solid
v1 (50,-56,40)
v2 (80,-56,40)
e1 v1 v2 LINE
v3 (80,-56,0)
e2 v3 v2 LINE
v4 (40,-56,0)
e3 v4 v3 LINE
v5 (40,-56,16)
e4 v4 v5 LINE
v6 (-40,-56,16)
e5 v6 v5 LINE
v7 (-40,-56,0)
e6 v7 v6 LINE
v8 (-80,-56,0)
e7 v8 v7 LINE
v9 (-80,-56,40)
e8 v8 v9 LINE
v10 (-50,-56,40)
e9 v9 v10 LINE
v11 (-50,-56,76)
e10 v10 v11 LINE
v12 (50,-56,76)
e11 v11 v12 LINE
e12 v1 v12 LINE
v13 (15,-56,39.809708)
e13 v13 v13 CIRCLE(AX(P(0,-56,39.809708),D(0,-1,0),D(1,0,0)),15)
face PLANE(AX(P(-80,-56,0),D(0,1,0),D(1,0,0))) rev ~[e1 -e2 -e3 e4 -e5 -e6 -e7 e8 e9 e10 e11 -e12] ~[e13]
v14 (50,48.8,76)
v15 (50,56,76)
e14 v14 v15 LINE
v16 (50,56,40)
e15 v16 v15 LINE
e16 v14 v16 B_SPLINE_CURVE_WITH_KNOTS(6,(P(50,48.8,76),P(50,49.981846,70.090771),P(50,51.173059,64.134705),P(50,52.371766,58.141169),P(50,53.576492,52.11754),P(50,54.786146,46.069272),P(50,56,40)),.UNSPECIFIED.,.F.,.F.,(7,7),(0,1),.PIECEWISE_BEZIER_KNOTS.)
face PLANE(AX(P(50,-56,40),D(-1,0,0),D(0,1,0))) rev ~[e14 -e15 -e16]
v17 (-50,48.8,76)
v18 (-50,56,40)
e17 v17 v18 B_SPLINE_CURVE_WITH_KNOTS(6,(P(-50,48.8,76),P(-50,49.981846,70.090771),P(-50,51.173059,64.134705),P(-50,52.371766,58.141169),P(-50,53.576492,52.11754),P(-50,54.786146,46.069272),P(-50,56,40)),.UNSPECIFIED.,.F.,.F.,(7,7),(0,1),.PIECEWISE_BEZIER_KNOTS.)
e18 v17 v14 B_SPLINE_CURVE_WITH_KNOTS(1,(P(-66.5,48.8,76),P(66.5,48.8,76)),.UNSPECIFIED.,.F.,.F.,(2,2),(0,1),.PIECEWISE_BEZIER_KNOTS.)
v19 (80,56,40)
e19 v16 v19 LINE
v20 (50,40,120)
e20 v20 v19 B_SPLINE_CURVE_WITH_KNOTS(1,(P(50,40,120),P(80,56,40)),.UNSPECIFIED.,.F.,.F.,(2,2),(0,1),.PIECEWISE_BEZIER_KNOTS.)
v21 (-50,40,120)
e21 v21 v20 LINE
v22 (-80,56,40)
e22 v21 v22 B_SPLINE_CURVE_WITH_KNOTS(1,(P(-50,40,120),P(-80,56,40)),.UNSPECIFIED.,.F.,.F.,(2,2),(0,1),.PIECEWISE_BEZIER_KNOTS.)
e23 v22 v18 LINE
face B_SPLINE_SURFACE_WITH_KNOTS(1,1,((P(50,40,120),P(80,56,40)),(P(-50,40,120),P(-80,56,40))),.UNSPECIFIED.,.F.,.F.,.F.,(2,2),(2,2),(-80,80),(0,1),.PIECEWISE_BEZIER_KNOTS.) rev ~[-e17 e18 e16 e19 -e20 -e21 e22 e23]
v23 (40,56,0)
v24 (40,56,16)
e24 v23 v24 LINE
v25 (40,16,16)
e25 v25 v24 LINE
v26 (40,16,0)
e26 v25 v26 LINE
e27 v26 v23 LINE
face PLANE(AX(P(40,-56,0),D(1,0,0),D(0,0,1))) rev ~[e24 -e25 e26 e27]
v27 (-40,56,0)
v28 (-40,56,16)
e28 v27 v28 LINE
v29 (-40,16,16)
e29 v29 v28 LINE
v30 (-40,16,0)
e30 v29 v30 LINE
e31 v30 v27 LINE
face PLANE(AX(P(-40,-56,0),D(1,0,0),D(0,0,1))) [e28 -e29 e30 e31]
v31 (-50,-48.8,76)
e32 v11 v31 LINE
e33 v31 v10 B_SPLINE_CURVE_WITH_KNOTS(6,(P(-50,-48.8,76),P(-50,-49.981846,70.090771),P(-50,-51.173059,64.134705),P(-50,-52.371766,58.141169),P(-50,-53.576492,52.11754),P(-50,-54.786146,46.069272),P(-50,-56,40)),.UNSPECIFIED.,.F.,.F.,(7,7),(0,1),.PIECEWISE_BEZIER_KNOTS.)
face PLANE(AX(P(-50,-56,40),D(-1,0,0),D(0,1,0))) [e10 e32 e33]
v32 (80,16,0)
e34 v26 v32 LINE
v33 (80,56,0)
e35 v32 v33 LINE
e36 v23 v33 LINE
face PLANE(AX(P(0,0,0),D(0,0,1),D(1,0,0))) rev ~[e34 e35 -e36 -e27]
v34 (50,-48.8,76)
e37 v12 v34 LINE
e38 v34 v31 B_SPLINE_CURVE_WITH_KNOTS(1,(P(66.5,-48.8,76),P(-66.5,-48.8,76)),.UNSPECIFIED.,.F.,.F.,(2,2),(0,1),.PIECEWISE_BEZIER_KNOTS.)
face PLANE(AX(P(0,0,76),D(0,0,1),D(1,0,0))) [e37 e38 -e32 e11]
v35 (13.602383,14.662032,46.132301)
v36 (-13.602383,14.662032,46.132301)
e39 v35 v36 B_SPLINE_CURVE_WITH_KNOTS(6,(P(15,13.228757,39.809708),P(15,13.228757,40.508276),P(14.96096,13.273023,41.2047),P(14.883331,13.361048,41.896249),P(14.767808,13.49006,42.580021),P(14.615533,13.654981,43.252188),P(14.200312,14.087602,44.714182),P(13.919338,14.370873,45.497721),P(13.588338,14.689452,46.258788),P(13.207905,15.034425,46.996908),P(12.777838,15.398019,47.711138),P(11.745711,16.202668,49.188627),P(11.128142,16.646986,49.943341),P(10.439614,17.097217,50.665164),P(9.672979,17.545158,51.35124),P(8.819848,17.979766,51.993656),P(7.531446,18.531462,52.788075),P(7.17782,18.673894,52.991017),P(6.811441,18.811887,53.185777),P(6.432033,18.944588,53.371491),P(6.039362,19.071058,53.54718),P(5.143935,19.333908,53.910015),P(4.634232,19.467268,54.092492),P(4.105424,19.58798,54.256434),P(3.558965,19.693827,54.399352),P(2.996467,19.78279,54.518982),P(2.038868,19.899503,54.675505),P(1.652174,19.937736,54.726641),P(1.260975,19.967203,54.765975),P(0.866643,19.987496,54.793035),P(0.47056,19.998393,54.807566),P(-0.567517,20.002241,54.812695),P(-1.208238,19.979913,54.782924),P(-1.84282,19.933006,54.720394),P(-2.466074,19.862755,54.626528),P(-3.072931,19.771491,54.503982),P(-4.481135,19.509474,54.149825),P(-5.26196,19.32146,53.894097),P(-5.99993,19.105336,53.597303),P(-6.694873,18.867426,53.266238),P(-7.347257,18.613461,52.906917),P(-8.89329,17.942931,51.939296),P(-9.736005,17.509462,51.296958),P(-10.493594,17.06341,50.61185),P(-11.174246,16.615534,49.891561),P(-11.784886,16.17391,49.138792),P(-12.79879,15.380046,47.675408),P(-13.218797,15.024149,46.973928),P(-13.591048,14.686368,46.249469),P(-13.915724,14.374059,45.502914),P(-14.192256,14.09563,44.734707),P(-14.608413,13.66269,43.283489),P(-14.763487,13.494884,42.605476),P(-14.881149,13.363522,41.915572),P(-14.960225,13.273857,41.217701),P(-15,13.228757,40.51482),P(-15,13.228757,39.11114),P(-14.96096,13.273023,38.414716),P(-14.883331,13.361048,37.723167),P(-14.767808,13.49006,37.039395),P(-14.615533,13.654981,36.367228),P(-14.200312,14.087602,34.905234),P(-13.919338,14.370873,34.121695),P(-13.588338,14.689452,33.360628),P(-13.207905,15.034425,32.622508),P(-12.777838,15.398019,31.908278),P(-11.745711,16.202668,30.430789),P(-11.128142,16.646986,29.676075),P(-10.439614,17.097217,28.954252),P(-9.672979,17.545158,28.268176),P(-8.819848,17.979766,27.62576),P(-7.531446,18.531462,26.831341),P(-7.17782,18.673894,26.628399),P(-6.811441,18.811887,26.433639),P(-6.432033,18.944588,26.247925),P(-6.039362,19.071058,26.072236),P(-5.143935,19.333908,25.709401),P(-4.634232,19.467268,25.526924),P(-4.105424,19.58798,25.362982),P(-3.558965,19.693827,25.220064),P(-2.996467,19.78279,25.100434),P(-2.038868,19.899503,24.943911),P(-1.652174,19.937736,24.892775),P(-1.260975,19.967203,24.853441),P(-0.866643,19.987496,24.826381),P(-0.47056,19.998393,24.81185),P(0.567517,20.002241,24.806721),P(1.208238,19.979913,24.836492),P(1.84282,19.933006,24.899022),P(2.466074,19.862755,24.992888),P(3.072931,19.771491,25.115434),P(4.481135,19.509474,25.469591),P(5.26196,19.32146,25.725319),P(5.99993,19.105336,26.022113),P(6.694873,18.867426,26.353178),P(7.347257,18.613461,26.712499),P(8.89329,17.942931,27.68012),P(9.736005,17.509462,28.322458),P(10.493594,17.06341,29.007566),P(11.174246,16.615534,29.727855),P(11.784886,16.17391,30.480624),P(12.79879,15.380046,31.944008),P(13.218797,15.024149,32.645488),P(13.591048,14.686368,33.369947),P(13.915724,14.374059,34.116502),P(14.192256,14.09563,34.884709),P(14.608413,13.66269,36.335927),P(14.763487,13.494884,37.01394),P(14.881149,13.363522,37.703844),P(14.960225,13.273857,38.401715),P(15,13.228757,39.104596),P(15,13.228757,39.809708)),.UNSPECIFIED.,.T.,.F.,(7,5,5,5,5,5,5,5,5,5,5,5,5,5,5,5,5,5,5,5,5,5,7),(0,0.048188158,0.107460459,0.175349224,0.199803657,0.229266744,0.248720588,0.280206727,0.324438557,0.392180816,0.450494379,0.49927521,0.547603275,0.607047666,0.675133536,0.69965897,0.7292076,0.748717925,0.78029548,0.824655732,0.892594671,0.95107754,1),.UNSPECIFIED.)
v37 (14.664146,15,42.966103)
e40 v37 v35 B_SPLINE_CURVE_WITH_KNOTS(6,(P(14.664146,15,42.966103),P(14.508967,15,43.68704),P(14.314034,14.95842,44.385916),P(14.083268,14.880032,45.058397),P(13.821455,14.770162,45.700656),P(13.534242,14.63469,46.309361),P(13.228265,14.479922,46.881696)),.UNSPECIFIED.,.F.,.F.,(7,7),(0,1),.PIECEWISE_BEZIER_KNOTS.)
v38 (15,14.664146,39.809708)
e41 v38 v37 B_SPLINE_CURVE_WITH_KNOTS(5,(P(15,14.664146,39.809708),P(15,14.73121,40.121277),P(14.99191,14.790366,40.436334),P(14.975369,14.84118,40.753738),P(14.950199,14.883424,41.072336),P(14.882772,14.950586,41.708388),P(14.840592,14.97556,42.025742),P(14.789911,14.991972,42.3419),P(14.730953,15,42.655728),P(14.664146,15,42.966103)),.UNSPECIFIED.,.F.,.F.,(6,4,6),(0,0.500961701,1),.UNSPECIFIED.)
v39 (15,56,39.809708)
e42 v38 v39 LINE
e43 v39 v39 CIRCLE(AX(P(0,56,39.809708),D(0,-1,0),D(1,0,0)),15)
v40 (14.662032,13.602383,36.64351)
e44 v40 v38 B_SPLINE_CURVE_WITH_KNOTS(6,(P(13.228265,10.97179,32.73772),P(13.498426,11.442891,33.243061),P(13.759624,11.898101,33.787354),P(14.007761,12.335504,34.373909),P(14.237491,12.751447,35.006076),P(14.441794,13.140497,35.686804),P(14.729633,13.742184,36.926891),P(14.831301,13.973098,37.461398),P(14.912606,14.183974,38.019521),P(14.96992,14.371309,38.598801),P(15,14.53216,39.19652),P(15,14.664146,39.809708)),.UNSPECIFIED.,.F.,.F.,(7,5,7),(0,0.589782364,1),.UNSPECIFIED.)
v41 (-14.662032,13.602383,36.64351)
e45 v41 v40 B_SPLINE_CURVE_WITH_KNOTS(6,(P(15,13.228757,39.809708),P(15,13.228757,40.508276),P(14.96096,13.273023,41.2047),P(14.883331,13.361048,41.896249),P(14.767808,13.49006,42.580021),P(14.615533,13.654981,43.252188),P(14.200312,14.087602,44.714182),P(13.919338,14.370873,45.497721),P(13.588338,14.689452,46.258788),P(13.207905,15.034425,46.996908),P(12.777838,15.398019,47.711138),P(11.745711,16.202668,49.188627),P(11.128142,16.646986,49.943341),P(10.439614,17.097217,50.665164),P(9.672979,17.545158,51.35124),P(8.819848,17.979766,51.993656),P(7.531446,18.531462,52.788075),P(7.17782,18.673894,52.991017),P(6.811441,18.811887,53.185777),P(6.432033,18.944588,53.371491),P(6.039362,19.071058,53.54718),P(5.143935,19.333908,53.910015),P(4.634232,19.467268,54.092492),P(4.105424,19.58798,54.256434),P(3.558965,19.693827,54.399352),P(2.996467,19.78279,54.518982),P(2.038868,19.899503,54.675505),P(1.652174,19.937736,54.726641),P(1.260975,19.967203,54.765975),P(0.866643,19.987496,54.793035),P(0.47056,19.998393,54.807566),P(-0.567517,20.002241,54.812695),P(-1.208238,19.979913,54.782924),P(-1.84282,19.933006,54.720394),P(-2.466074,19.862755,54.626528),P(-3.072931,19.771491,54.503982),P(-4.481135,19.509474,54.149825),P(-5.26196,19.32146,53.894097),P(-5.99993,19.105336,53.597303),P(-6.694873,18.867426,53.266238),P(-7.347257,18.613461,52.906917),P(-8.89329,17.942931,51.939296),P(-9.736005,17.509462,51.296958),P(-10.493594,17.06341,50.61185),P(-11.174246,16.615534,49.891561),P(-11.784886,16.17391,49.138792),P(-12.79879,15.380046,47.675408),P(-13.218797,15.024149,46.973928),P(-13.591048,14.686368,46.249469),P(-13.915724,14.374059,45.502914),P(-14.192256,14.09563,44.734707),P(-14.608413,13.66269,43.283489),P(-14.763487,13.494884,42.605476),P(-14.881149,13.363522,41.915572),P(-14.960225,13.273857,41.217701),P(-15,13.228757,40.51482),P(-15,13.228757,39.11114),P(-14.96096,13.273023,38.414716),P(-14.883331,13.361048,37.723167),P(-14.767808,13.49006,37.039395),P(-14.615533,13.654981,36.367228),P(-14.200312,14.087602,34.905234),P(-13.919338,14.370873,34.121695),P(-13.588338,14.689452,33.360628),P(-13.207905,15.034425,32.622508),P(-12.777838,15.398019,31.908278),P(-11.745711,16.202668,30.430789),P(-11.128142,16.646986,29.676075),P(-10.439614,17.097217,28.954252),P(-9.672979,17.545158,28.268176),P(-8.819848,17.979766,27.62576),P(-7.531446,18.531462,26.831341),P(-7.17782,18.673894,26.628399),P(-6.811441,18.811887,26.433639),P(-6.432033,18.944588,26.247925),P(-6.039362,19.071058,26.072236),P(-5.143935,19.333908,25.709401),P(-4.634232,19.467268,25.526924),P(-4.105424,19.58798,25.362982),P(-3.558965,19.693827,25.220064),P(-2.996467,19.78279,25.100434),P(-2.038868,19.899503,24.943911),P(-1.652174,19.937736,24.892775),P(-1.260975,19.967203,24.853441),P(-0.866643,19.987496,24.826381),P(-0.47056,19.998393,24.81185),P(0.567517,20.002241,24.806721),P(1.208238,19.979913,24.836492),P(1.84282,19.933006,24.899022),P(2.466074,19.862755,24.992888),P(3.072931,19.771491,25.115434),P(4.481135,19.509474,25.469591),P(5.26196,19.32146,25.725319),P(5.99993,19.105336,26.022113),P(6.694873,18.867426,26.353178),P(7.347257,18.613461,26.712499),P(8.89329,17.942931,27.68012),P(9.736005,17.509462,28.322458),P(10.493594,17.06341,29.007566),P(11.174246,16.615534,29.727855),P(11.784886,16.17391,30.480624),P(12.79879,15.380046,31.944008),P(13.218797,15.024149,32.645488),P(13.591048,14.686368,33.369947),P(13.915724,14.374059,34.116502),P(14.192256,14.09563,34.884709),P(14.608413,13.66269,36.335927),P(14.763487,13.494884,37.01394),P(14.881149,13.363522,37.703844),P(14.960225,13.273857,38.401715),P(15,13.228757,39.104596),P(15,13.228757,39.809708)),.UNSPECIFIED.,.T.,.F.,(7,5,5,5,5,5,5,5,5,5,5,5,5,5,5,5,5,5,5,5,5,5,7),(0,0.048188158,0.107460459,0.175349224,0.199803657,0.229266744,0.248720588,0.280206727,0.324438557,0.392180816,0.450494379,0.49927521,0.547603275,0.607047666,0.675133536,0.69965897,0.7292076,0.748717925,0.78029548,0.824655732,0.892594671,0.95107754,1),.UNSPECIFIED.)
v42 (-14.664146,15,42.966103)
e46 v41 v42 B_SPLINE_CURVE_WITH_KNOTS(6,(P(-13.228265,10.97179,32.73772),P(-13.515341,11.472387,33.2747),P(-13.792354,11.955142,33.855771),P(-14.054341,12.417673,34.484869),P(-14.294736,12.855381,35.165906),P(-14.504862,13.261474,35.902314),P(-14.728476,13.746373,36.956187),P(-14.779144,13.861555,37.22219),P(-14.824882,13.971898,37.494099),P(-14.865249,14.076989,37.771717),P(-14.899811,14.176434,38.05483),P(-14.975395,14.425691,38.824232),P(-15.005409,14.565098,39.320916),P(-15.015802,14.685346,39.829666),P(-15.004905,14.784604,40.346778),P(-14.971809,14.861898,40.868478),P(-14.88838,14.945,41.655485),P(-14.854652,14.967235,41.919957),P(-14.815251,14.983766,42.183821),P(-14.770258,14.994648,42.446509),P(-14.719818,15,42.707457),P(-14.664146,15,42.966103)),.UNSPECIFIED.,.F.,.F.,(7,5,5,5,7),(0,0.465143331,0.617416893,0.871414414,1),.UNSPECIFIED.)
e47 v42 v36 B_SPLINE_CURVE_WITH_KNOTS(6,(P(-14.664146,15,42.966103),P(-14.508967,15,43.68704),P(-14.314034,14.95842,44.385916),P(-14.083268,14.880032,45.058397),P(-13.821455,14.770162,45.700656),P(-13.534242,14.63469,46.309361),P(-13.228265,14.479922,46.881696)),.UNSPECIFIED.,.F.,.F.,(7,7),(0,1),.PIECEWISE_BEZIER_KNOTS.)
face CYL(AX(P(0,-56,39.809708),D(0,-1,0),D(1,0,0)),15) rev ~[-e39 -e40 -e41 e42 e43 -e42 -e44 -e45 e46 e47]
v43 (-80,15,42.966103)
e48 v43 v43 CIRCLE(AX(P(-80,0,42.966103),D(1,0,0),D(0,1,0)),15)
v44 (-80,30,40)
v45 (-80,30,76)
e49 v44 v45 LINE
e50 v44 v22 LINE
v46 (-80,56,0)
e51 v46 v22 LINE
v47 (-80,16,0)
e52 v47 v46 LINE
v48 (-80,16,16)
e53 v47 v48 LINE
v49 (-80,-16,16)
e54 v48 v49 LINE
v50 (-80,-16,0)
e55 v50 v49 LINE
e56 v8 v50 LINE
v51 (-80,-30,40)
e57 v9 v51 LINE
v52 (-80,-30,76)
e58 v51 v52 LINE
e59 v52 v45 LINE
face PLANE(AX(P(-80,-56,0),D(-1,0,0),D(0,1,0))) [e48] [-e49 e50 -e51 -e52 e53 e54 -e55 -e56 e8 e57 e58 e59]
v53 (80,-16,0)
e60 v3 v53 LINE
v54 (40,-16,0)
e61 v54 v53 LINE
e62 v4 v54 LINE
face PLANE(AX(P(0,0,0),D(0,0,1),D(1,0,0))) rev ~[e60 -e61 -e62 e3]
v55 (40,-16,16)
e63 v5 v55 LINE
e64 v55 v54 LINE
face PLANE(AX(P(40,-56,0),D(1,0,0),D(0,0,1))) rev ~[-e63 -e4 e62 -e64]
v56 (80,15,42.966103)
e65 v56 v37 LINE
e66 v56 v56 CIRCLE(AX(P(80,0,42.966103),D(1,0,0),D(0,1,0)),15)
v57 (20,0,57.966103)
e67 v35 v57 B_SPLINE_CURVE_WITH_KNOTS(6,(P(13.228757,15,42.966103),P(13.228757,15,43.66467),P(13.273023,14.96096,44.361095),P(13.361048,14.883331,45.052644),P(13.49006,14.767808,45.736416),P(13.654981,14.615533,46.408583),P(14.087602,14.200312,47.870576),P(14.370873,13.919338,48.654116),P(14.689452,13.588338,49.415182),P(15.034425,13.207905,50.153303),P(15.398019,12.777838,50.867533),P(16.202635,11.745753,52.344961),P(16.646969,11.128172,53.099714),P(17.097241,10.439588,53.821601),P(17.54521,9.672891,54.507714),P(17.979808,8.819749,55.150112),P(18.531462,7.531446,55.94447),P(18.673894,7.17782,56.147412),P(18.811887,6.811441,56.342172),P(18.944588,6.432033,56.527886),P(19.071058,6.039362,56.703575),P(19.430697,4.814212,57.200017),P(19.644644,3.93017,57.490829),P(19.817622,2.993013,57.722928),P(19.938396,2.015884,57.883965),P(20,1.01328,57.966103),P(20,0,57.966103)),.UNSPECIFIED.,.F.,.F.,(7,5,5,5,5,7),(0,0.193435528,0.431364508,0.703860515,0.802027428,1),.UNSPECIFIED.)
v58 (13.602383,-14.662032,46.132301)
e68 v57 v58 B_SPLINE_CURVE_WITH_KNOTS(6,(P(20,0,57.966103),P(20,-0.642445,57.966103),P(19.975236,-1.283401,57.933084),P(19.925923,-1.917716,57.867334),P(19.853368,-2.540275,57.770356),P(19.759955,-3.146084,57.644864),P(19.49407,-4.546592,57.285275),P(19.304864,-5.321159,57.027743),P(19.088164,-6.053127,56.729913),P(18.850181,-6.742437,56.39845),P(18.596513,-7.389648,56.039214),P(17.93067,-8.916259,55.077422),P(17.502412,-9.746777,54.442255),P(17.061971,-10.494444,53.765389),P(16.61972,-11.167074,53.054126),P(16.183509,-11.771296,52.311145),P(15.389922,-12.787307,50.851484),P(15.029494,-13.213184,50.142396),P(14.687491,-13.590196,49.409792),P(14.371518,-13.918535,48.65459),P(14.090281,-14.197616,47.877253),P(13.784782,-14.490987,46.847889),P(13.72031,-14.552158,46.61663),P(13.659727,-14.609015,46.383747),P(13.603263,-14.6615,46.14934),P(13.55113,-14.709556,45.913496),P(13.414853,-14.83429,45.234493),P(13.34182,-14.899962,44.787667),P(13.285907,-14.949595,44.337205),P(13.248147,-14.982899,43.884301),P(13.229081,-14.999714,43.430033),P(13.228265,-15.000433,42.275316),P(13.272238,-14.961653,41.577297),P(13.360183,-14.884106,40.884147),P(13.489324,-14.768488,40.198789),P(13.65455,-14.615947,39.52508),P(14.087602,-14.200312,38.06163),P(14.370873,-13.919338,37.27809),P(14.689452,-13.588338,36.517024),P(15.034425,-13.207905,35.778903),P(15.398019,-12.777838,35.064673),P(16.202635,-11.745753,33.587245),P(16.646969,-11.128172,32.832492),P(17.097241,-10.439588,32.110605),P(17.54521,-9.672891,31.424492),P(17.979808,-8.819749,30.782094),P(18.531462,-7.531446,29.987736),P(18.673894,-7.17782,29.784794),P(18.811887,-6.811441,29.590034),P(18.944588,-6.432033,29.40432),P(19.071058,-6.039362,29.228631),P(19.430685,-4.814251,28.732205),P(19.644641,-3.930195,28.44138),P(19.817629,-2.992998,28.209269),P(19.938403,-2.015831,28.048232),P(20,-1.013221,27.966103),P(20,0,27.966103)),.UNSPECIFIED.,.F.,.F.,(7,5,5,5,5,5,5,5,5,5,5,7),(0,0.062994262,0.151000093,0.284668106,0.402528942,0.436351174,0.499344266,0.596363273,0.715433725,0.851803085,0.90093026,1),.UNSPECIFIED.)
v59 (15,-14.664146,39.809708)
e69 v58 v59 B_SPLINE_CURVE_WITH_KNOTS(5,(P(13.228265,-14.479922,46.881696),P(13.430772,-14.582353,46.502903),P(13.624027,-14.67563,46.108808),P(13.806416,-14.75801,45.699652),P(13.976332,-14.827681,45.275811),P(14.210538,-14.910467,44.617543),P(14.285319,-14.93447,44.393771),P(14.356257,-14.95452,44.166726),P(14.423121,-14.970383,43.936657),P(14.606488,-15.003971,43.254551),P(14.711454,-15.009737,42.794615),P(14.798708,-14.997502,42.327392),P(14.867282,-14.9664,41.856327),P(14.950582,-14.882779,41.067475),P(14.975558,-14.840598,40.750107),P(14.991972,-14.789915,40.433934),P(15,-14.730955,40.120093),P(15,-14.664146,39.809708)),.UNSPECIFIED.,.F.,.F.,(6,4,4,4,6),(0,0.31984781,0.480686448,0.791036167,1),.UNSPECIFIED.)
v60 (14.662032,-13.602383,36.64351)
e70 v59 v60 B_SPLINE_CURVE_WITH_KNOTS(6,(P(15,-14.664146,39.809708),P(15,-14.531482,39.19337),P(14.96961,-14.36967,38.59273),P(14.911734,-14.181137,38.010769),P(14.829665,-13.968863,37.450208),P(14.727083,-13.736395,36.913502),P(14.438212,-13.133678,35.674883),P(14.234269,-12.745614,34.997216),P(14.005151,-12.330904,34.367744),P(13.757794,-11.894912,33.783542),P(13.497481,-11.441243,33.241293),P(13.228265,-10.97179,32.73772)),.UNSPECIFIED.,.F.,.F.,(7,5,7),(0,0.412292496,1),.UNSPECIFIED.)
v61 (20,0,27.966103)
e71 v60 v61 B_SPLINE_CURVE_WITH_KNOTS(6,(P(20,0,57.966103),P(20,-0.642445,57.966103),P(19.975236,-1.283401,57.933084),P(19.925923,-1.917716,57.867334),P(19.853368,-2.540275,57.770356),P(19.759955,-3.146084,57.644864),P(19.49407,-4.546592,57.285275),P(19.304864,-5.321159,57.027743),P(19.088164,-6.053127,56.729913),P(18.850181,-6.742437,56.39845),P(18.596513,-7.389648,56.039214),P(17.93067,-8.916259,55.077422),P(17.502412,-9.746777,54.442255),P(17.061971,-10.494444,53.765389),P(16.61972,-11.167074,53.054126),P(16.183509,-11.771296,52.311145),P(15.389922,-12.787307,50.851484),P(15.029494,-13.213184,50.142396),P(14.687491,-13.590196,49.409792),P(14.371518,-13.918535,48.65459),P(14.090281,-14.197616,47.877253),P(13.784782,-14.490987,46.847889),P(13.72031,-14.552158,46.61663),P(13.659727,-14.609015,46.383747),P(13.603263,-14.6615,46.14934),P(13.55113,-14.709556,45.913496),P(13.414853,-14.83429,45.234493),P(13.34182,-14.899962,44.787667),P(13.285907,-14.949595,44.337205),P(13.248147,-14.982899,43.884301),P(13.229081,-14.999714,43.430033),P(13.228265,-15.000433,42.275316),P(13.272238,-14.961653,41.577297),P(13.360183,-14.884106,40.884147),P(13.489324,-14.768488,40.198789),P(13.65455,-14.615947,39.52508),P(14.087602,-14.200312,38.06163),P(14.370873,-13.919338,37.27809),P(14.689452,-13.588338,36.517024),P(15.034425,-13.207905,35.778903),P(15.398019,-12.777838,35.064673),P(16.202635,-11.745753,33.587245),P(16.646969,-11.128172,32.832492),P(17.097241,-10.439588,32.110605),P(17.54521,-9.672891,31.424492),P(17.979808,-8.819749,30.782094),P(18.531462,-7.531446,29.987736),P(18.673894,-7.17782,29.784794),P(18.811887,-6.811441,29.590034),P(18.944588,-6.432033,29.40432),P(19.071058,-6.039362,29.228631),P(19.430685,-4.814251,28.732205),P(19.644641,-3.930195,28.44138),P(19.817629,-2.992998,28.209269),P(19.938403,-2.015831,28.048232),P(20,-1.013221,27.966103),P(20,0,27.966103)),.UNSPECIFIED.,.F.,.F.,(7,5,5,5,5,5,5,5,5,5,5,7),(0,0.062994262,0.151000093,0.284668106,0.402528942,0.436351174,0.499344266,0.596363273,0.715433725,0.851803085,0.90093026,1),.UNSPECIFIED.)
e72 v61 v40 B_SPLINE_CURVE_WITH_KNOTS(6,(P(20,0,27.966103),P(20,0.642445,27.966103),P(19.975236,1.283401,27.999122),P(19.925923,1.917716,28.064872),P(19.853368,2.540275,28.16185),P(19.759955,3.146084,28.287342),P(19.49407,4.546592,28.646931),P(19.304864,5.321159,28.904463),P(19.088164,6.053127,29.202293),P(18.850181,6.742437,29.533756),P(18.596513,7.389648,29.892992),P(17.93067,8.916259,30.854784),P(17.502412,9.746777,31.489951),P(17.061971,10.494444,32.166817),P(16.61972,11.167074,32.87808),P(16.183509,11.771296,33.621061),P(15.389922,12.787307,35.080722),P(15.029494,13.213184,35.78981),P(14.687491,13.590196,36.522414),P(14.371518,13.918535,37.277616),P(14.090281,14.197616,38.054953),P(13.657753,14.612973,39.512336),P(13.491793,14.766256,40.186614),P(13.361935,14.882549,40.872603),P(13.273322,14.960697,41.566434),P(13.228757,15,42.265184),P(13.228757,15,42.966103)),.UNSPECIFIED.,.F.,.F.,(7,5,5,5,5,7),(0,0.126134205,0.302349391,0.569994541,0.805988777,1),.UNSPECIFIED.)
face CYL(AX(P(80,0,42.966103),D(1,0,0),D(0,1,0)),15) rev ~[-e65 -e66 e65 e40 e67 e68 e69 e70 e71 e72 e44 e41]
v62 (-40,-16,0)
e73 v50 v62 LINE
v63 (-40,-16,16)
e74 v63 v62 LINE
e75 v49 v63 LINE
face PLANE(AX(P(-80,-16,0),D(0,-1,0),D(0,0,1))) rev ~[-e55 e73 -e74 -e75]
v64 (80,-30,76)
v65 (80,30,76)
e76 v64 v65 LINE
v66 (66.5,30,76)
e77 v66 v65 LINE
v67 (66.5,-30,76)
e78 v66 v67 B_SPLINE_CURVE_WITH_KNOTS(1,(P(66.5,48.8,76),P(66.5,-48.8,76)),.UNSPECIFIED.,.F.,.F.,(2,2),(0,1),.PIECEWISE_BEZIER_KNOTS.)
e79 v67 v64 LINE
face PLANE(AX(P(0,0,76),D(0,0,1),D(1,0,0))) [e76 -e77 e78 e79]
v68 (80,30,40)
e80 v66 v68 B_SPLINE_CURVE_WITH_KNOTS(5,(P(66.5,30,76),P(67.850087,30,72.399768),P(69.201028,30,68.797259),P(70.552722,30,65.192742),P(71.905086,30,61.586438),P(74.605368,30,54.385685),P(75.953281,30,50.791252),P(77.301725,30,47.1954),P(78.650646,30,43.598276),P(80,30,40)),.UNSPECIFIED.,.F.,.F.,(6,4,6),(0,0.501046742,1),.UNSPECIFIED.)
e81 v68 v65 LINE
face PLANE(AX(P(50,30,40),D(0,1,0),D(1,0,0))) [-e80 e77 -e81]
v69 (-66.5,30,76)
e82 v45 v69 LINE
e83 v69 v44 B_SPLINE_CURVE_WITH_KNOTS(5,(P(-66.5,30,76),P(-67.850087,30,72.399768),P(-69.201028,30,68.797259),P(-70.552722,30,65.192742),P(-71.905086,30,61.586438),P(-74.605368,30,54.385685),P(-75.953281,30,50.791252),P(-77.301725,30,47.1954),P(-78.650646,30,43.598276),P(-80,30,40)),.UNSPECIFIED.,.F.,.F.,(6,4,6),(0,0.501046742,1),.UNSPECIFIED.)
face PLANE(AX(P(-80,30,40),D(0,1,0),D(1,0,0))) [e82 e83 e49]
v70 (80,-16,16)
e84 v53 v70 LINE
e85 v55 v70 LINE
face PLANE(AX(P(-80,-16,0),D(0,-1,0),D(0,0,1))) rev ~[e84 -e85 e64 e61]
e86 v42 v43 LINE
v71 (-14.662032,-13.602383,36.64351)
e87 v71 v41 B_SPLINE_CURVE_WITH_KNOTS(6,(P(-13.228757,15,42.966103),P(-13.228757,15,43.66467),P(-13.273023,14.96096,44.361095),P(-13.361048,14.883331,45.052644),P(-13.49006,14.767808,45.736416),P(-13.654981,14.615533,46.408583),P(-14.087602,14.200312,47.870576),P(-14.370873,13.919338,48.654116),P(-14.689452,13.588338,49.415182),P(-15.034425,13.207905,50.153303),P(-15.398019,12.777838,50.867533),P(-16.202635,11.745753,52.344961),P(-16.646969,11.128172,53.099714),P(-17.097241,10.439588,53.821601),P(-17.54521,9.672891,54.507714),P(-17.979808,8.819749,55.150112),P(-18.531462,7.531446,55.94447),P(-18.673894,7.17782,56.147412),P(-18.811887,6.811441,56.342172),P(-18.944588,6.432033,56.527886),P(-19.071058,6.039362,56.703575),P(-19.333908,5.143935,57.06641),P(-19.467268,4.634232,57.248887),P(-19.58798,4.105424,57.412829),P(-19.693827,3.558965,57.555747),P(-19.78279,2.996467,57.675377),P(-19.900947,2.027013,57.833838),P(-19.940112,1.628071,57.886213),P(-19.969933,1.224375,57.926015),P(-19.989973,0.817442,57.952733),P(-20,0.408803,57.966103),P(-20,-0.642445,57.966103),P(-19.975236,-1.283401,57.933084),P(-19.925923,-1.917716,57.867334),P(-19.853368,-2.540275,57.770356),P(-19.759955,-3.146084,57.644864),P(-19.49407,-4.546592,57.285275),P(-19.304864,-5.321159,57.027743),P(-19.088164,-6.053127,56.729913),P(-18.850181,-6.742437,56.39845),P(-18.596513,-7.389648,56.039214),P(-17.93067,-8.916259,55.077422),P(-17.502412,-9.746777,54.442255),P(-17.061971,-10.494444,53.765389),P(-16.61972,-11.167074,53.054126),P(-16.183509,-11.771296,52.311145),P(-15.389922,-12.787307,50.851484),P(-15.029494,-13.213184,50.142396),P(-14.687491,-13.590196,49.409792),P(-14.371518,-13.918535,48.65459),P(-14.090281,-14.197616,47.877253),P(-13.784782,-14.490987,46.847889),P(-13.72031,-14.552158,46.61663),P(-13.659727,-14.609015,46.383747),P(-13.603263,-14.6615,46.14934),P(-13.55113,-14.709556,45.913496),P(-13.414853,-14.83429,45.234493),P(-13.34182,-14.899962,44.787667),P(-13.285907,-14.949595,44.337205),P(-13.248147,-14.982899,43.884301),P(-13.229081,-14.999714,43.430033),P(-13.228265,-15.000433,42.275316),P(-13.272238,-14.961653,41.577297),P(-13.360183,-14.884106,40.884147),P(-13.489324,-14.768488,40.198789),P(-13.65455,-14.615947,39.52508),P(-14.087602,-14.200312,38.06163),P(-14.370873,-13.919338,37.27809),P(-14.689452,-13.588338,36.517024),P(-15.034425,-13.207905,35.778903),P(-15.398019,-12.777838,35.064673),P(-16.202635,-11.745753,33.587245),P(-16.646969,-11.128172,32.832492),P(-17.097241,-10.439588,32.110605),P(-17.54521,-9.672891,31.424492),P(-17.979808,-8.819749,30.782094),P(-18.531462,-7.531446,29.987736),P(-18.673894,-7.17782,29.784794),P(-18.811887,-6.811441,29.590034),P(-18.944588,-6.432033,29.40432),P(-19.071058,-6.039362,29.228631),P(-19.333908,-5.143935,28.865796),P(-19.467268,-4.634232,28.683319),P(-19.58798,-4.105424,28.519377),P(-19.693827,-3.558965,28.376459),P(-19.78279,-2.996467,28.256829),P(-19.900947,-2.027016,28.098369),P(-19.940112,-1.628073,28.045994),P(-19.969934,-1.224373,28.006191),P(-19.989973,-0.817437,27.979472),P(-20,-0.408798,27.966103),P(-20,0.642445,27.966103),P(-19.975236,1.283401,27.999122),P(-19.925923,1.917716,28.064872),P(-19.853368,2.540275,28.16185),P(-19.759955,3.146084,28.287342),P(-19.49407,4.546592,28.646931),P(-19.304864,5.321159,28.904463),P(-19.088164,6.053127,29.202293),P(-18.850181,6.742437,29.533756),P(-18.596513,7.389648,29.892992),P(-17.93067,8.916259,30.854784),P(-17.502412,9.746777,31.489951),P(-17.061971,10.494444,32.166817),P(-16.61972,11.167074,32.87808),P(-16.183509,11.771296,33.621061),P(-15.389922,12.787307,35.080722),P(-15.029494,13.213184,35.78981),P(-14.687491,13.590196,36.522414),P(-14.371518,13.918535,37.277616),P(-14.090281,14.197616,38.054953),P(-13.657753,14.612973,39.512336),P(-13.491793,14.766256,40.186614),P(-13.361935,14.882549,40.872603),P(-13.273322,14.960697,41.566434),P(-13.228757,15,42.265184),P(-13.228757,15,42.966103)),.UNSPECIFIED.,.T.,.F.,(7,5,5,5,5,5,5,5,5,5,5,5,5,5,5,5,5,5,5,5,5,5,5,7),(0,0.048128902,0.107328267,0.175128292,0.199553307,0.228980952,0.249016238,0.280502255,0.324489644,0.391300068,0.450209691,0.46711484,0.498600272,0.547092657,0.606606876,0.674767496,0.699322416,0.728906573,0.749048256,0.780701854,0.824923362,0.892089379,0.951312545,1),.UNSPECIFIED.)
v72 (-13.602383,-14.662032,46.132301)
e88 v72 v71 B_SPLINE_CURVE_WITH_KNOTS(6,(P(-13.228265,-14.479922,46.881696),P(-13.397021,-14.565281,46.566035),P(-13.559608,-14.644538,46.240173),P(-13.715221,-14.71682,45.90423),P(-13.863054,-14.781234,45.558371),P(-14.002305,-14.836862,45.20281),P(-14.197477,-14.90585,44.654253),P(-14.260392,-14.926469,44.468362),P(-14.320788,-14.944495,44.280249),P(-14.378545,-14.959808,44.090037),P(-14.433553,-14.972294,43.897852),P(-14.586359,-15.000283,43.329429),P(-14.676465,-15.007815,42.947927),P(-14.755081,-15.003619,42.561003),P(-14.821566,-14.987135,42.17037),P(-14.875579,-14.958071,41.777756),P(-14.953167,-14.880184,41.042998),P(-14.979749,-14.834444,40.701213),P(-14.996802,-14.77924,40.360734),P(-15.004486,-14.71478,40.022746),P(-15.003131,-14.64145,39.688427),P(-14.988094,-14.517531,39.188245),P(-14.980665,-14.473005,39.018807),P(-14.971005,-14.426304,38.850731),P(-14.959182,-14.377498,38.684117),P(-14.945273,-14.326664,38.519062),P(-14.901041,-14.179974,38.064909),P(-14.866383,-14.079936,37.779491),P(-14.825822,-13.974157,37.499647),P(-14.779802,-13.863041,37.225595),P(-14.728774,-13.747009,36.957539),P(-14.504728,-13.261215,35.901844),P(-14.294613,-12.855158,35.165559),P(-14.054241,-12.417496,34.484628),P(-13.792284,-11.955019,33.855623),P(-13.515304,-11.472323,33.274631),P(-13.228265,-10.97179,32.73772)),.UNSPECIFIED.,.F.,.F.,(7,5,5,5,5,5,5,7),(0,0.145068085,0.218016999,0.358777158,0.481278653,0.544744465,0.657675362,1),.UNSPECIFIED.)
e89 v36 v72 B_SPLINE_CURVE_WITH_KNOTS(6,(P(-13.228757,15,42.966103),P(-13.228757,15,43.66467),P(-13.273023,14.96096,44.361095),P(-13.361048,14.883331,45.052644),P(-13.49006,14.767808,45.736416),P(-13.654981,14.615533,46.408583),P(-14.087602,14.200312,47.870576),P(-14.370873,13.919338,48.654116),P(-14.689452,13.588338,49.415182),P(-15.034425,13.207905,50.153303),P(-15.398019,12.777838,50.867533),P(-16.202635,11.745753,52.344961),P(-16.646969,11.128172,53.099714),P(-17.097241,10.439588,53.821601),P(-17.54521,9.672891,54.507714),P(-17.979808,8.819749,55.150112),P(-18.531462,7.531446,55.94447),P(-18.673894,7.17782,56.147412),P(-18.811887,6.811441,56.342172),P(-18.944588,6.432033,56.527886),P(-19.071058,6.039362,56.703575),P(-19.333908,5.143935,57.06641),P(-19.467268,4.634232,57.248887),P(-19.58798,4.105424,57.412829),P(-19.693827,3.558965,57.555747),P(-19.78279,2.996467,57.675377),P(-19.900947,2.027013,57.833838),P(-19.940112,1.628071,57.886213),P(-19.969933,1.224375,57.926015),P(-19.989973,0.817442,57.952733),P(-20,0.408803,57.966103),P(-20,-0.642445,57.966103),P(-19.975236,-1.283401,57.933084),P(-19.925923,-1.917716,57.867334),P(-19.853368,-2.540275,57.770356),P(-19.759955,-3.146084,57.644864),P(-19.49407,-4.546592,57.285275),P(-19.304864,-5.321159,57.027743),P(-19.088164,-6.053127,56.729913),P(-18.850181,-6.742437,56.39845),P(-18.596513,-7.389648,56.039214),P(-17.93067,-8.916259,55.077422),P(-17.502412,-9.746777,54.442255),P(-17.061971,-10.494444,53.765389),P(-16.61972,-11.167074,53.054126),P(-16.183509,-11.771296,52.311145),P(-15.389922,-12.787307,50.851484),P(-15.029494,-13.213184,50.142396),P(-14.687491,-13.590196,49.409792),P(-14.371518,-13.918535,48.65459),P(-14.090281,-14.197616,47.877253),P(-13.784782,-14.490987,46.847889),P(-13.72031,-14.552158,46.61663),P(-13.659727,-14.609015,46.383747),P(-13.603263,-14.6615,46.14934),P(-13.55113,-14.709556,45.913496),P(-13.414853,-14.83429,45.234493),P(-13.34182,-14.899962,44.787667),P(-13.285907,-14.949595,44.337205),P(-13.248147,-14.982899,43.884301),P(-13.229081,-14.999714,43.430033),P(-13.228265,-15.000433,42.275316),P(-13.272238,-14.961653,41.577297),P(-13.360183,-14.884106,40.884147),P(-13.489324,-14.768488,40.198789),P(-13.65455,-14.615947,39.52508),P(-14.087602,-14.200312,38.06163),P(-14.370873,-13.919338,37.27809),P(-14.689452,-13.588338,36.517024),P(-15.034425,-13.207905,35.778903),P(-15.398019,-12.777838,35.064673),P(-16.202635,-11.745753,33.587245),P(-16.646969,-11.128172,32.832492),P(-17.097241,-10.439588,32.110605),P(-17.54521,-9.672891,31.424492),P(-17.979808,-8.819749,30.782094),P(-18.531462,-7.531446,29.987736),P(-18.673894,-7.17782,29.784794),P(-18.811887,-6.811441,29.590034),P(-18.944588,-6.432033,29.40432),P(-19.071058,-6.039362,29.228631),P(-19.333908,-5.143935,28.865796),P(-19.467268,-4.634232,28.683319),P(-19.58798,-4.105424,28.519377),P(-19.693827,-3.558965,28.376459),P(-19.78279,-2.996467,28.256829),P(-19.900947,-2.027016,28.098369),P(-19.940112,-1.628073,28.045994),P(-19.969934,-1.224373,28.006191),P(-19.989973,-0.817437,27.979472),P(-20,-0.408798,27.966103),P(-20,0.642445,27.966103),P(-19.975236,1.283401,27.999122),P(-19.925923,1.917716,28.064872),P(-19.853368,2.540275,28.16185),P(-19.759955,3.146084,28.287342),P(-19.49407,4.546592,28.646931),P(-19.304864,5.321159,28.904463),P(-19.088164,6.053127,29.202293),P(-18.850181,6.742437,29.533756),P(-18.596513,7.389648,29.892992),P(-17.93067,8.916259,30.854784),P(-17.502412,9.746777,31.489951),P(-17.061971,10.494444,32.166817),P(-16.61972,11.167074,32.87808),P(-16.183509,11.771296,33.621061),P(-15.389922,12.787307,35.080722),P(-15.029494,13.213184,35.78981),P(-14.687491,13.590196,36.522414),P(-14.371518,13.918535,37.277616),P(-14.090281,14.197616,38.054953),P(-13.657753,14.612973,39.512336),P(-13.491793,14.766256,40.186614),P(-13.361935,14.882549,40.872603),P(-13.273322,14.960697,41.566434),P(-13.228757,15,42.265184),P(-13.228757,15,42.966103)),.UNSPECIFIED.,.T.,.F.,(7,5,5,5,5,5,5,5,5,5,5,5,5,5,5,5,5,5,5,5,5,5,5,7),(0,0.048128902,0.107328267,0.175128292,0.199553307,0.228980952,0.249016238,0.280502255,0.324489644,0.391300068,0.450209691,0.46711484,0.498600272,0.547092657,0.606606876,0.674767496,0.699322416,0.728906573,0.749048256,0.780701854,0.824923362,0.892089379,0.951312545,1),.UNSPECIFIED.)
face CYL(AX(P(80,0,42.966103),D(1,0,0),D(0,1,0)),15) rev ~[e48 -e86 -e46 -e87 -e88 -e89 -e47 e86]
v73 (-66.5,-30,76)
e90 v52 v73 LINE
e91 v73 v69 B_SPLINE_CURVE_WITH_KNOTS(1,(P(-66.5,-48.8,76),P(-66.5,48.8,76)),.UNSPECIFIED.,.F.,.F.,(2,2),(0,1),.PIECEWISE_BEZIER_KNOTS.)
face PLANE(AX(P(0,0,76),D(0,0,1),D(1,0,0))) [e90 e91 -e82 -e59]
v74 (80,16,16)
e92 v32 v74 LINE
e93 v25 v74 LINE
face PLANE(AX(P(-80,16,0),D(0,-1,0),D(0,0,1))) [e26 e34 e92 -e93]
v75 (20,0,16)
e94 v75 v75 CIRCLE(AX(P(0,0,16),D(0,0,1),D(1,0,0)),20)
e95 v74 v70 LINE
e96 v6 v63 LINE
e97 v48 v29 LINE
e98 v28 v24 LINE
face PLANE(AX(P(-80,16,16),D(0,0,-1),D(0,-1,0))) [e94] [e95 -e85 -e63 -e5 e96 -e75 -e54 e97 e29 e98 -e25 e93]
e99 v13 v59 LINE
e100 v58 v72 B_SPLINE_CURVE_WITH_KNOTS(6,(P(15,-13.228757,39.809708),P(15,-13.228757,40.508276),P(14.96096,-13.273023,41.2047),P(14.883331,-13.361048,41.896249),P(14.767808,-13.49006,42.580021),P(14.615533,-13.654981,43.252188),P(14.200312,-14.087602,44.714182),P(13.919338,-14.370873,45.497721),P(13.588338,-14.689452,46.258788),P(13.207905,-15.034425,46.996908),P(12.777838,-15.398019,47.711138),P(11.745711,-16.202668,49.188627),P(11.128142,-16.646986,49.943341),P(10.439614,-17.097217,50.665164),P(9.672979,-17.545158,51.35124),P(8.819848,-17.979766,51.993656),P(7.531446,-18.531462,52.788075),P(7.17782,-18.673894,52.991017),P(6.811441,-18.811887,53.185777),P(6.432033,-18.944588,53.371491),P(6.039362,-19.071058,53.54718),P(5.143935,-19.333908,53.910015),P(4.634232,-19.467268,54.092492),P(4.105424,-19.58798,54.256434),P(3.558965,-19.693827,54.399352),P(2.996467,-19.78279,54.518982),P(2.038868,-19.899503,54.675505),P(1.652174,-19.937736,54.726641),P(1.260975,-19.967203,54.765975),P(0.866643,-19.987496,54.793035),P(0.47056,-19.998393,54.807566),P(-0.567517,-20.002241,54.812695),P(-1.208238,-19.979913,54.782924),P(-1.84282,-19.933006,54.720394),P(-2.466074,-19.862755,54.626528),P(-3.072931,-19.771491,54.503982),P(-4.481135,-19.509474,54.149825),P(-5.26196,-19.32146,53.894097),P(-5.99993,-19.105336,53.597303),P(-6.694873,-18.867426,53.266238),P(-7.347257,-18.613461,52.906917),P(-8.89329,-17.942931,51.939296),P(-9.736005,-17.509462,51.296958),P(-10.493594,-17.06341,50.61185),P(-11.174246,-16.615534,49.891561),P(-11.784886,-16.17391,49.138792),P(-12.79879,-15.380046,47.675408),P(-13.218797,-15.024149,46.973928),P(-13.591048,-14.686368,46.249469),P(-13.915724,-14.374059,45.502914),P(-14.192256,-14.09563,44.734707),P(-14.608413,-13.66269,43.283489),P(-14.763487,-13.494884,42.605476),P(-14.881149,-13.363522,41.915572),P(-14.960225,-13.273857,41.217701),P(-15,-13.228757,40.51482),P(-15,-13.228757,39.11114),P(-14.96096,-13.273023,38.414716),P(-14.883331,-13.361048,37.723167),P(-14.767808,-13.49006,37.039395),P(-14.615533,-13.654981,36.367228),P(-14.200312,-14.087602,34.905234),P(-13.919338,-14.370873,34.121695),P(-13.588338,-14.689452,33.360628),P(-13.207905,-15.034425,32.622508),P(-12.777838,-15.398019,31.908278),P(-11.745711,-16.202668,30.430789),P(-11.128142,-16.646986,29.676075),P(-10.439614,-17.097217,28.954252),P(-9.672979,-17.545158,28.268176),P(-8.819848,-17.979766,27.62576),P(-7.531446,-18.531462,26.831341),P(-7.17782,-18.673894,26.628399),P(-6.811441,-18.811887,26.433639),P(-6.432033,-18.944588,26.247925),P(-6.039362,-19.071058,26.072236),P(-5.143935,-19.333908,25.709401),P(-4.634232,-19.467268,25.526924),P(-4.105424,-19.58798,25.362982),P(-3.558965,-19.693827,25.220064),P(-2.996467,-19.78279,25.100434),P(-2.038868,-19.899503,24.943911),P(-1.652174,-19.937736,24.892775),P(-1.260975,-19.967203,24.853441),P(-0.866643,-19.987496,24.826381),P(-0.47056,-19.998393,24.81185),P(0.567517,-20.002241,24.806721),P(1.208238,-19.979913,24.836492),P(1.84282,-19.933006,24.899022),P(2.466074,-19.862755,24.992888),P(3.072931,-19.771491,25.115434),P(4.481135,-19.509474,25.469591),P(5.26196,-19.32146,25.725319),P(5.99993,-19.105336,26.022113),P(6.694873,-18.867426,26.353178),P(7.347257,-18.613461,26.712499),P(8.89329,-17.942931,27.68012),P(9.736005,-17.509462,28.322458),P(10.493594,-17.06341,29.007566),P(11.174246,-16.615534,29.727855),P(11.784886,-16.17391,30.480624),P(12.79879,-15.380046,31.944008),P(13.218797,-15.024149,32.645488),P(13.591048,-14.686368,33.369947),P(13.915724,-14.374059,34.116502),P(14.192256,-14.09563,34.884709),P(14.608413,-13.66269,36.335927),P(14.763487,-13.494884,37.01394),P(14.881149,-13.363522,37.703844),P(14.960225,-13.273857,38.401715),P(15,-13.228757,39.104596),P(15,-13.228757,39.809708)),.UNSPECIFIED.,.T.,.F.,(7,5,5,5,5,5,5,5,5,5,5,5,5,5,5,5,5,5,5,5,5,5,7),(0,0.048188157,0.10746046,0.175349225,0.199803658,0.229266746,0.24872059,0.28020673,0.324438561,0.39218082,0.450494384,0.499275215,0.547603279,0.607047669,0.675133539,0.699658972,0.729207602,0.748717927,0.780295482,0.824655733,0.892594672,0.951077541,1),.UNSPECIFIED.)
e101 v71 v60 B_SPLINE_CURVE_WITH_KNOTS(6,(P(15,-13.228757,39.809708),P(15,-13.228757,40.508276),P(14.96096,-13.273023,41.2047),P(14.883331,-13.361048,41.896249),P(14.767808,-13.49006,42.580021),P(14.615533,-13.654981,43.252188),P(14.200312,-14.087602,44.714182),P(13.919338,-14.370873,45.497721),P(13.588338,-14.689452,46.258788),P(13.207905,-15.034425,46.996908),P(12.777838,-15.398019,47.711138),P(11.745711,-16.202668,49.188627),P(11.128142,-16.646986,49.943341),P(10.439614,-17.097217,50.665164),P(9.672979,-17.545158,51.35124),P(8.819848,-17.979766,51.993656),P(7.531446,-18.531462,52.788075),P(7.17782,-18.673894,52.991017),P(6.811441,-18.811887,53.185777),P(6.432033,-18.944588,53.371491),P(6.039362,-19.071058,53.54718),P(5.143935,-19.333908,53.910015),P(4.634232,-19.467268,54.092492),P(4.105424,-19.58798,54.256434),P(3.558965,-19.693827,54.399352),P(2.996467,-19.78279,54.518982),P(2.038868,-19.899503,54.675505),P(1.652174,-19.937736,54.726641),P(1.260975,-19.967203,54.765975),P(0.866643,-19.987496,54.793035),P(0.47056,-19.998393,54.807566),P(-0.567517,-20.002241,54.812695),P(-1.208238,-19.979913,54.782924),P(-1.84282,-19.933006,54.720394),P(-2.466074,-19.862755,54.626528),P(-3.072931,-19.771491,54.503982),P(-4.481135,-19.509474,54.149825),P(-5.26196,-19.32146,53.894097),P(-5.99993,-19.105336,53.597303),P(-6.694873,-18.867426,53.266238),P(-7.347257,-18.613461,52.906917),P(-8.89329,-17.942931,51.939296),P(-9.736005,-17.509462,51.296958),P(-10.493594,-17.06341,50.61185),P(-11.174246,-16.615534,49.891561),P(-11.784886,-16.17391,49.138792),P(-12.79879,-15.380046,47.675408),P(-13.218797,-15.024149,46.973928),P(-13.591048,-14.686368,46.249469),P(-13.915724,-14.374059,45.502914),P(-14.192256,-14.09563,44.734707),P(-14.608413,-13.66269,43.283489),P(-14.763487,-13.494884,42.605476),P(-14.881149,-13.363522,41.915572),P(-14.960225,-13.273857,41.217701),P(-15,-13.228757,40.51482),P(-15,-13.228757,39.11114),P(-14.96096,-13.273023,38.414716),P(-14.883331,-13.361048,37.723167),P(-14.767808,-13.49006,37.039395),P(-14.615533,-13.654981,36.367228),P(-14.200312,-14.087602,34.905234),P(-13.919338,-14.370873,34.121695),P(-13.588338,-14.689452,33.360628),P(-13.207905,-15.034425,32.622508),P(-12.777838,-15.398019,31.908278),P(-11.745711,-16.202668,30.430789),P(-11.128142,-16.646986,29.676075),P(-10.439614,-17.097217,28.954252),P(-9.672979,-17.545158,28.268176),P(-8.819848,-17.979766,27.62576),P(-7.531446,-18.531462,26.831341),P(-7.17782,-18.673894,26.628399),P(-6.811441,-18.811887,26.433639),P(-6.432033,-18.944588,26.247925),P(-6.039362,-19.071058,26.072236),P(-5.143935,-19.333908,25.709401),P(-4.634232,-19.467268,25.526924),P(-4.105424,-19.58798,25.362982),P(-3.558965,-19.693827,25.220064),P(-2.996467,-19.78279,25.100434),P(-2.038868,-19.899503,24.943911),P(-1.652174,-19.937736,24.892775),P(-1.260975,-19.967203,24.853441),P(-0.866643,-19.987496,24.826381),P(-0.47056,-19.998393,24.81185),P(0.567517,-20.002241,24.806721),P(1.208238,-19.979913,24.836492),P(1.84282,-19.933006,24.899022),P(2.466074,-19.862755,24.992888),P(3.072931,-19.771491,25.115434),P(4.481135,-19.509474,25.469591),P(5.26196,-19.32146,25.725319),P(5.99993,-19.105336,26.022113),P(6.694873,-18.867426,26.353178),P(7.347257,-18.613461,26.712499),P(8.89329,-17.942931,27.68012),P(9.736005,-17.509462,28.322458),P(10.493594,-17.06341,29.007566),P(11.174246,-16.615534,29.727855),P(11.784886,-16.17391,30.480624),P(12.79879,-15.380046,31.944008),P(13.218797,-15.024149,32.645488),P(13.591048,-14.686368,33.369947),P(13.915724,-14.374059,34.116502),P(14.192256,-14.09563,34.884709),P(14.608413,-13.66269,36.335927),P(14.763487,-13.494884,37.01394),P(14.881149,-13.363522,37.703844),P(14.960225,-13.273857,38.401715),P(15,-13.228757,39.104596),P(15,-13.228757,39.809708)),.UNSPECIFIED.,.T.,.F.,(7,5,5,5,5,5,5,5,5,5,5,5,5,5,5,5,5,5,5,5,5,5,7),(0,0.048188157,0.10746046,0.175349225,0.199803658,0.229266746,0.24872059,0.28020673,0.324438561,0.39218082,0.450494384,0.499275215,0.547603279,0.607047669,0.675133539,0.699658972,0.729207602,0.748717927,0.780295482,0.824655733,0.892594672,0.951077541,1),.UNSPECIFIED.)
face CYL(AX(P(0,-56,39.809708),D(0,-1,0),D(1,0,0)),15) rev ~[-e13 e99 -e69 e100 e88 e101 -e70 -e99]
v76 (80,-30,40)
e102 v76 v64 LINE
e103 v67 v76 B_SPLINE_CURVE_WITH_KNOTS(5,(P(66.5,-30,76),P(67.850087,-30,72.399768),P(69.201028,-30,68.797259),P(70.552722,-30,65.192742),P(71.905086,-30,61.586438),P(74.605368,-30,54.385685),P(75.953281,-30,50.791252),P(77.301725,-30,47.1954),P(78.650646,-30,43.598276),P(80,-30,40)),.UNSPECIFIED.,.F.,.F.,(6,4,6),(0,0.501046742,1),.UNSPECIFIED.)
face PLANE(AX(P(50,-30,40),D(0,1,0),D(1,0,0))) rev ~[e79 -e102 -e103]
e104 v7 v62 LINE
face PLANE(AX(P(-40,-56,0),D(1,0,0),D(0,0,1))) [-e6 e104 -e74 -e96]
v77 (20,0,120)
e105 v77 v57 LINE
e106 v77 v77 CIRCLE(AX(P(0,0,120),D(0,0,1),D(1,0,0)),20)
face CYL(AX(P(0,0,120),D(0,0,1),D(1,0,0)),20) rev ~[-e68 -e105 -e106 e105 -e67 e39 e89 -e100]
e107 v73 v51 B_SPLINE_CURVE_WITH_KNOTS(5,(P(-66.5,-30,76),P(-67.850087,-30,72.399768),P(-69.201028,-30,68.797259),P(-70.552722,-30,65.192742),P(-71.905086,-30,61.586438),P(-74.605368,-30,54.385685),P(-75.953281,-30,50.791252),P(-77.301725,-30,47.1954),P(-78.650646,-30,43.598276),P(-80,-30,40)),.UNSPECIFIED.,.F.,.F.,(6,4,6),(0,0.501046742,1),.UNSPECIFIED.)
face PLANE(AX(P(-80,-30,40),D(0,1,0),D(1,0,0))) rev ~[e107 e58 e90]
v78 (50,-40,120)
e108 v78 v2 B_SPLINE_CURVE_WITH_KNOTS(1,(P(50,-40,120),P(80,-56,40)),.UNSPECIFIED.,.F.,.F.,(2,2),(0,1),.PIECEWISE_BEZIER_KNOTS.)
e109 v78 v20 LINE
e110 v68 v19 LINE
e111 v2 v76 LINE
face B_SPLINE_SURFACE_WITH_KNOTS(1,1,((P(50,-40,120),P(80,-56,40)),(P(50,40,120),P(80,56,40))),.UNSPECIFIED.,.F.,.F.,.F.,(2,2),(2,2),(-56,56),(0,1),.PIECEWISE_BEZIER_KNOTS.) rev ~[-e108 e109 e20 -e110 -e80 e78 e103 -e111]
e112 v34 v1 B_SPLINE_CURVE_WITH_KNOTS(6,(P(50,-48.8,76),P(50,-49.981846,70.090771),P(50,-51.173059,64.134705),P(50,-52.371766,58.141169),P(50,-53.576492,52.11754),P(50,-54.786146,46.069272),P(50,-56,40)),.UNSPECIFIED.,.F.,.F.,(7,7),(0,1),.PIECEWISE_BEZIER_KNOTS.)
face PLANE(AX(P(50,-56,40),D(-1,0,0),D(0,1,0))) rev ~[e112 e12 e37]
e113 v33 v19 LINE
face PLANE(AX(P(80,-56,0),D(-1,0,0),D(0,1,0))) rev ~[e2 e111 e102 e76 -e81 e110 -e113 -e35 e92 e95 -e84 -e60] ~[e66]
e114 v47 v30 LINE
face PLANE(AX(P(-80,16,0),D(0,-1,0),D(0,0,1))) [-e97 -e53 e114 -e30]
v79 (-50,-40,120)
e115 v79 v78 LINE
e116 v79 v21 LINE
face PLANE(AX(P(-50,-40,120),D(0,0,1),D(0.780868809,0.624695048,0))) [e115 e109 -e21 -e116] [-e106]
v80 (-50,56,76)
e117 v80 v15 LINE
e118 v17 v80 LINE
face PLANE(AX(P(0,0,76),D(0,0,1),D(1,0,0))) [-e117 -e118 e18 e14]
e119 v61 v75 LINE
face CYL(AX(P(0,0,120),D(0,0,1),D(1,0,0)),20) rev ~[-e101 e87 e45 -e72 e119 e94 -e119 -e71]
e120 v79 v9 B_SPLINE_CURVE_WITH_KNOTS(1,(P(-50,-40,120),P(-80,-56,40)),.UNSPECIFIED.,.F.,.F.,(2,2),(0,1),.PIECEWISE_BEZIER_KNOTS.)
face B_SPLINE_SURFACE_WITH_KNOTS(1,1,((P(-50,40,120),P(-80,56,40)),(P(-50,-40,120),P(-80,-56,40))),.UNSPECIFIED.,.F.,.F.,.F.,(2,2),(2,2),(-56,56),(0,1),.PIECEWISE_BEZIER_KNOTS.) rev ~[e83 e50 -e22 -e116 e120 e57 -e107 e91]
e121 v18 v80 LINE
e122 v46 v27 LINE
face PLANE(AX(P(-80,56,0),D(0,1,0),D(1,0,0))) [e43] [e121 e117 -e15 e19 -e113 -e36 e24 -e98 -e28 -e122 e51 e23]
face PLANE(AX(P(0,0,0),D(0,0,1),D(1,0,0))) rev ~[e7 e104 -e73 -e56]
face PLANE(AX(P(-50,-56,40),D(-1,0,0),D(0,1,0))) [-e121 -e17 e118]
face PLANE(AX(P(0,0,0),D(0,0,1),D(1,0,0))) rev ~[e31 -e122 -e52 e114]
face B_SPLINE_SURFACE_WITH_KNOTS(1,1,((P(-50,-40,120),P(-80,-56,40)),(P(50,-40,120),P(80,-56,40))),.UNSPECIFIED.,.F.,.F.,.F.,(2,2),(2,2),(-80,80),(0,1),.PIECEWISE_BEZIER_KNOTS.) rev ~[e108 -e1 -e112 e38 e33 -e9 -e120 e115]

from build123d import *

# Parameters (mm, degrees)
F0_W      = 160
F0_H      = 112
F1_DEPTH  = 40
F2_W      = 80
F2_H      = 16
F3_DEPTH  = 112
F4_W      = 32
F4_H      = 16
F5_DEPTH  = 160
F6_W      = 100
F6_H      = 112
F7_DEPTH  = 36
F8_W      = 30
F8_H      = 60
F9_DEPTH  = 36
F10_W     = 30
F10_H     = 60
F11_DEPTH = 36
F15_W     = 100
F15_H     = 80
F13_W     = 160
F13_H     = 112
F17_R     = 20
F18_DEPTH = 120
F19_R     = 15
F20_DEPTH = 160
F21_R     = 15
F22_DEPTH = 112


with BuildPart() as f1:
    # F0 (on Top) → F1 (new body)
    with BuildSketch(Plane.XY):
        Rectangle(F0_W, F0_H)
    extrude(amount=F1_DEPTH)

    # F2 (on face) → F3 (cut)
    with BuildSketch(Plane.XZ.offset(56)):
        with Locations((0, 8)):
            Rectangle(F2_W, F2_H)
    extrude(amount=-F3_DEPTH, mode=Mode.SUBTRACT)

    # F4 (on face) → F5 (cut)
    with BuildSketch(Plane(origin=(-80, 0, 0), x_dir=(0, -1, 0), z_dir=(-1, 0, 0))):
        with Locations((0, 8)):
            Rectangle(F4_W, F4_H)
    extrude(amount=-F5_DEPTH, mode=Mode.SUBTRACT)

    # F6 (on face) → F7 (join)
    with BuildSketch(Plane.XY.offset(40)):
        Rectangle(F6_W, F6_H)
    extrude(amount=F7_DEPTH)

    # F8 (on face) → F9 (join)
    with BuildSketch(Plane.XY.offset(40)):
        with Locations((65, 0)):
            Rectangle(F8_W, F8_H)
    extrude(amount=F9_DEPTH)

    # F10 (on face) → F11 (join)
    with BuildSketch(Plane.XY.offset(40)):
        with Locations((-65, 0)):
            Rectangle(F10_W, F10_H)
    extrude(amount=F11_DEPTH)

    # F15 (on offset) → F16 section 0
    with BuildSketch(Plane.XY.offset(120)):
        Rectangle(F15_W, F15_H)
    # F13 (on offset) → F16 section 1
    with BuildSketch(Plane.XY.offset(40)):
        Rectangle(F13_W, F13_H)
    loft()

    # F17 (on offset) → F18 (cut)
    with BuildSketch(Plane.XY.offset(120)):
        Circle(F17_R)
    extrude(amount=-F18_DEPTH, mode=Mode.SUBTRACT)

    # F19 (on face) → F20 (cut)
    with BuildSketch(Plane.YZ.offset(80)):
        with Locations((0, 42.966103)):
            Circle(F19_R)
    extrude(amount=-F20_DEPTH, mode=Mode.SUBTRACT)

    # F21 (on face) → F22 (cut)
    with BuildSketch(Plane.XZ.offset(56)):
        with Locations((0, 39.809708)):
            Circle(F21_R)
    extrude(amount=-F22_DEPTH, mode=Mode.SUBTRACT)


solid = f1.part
